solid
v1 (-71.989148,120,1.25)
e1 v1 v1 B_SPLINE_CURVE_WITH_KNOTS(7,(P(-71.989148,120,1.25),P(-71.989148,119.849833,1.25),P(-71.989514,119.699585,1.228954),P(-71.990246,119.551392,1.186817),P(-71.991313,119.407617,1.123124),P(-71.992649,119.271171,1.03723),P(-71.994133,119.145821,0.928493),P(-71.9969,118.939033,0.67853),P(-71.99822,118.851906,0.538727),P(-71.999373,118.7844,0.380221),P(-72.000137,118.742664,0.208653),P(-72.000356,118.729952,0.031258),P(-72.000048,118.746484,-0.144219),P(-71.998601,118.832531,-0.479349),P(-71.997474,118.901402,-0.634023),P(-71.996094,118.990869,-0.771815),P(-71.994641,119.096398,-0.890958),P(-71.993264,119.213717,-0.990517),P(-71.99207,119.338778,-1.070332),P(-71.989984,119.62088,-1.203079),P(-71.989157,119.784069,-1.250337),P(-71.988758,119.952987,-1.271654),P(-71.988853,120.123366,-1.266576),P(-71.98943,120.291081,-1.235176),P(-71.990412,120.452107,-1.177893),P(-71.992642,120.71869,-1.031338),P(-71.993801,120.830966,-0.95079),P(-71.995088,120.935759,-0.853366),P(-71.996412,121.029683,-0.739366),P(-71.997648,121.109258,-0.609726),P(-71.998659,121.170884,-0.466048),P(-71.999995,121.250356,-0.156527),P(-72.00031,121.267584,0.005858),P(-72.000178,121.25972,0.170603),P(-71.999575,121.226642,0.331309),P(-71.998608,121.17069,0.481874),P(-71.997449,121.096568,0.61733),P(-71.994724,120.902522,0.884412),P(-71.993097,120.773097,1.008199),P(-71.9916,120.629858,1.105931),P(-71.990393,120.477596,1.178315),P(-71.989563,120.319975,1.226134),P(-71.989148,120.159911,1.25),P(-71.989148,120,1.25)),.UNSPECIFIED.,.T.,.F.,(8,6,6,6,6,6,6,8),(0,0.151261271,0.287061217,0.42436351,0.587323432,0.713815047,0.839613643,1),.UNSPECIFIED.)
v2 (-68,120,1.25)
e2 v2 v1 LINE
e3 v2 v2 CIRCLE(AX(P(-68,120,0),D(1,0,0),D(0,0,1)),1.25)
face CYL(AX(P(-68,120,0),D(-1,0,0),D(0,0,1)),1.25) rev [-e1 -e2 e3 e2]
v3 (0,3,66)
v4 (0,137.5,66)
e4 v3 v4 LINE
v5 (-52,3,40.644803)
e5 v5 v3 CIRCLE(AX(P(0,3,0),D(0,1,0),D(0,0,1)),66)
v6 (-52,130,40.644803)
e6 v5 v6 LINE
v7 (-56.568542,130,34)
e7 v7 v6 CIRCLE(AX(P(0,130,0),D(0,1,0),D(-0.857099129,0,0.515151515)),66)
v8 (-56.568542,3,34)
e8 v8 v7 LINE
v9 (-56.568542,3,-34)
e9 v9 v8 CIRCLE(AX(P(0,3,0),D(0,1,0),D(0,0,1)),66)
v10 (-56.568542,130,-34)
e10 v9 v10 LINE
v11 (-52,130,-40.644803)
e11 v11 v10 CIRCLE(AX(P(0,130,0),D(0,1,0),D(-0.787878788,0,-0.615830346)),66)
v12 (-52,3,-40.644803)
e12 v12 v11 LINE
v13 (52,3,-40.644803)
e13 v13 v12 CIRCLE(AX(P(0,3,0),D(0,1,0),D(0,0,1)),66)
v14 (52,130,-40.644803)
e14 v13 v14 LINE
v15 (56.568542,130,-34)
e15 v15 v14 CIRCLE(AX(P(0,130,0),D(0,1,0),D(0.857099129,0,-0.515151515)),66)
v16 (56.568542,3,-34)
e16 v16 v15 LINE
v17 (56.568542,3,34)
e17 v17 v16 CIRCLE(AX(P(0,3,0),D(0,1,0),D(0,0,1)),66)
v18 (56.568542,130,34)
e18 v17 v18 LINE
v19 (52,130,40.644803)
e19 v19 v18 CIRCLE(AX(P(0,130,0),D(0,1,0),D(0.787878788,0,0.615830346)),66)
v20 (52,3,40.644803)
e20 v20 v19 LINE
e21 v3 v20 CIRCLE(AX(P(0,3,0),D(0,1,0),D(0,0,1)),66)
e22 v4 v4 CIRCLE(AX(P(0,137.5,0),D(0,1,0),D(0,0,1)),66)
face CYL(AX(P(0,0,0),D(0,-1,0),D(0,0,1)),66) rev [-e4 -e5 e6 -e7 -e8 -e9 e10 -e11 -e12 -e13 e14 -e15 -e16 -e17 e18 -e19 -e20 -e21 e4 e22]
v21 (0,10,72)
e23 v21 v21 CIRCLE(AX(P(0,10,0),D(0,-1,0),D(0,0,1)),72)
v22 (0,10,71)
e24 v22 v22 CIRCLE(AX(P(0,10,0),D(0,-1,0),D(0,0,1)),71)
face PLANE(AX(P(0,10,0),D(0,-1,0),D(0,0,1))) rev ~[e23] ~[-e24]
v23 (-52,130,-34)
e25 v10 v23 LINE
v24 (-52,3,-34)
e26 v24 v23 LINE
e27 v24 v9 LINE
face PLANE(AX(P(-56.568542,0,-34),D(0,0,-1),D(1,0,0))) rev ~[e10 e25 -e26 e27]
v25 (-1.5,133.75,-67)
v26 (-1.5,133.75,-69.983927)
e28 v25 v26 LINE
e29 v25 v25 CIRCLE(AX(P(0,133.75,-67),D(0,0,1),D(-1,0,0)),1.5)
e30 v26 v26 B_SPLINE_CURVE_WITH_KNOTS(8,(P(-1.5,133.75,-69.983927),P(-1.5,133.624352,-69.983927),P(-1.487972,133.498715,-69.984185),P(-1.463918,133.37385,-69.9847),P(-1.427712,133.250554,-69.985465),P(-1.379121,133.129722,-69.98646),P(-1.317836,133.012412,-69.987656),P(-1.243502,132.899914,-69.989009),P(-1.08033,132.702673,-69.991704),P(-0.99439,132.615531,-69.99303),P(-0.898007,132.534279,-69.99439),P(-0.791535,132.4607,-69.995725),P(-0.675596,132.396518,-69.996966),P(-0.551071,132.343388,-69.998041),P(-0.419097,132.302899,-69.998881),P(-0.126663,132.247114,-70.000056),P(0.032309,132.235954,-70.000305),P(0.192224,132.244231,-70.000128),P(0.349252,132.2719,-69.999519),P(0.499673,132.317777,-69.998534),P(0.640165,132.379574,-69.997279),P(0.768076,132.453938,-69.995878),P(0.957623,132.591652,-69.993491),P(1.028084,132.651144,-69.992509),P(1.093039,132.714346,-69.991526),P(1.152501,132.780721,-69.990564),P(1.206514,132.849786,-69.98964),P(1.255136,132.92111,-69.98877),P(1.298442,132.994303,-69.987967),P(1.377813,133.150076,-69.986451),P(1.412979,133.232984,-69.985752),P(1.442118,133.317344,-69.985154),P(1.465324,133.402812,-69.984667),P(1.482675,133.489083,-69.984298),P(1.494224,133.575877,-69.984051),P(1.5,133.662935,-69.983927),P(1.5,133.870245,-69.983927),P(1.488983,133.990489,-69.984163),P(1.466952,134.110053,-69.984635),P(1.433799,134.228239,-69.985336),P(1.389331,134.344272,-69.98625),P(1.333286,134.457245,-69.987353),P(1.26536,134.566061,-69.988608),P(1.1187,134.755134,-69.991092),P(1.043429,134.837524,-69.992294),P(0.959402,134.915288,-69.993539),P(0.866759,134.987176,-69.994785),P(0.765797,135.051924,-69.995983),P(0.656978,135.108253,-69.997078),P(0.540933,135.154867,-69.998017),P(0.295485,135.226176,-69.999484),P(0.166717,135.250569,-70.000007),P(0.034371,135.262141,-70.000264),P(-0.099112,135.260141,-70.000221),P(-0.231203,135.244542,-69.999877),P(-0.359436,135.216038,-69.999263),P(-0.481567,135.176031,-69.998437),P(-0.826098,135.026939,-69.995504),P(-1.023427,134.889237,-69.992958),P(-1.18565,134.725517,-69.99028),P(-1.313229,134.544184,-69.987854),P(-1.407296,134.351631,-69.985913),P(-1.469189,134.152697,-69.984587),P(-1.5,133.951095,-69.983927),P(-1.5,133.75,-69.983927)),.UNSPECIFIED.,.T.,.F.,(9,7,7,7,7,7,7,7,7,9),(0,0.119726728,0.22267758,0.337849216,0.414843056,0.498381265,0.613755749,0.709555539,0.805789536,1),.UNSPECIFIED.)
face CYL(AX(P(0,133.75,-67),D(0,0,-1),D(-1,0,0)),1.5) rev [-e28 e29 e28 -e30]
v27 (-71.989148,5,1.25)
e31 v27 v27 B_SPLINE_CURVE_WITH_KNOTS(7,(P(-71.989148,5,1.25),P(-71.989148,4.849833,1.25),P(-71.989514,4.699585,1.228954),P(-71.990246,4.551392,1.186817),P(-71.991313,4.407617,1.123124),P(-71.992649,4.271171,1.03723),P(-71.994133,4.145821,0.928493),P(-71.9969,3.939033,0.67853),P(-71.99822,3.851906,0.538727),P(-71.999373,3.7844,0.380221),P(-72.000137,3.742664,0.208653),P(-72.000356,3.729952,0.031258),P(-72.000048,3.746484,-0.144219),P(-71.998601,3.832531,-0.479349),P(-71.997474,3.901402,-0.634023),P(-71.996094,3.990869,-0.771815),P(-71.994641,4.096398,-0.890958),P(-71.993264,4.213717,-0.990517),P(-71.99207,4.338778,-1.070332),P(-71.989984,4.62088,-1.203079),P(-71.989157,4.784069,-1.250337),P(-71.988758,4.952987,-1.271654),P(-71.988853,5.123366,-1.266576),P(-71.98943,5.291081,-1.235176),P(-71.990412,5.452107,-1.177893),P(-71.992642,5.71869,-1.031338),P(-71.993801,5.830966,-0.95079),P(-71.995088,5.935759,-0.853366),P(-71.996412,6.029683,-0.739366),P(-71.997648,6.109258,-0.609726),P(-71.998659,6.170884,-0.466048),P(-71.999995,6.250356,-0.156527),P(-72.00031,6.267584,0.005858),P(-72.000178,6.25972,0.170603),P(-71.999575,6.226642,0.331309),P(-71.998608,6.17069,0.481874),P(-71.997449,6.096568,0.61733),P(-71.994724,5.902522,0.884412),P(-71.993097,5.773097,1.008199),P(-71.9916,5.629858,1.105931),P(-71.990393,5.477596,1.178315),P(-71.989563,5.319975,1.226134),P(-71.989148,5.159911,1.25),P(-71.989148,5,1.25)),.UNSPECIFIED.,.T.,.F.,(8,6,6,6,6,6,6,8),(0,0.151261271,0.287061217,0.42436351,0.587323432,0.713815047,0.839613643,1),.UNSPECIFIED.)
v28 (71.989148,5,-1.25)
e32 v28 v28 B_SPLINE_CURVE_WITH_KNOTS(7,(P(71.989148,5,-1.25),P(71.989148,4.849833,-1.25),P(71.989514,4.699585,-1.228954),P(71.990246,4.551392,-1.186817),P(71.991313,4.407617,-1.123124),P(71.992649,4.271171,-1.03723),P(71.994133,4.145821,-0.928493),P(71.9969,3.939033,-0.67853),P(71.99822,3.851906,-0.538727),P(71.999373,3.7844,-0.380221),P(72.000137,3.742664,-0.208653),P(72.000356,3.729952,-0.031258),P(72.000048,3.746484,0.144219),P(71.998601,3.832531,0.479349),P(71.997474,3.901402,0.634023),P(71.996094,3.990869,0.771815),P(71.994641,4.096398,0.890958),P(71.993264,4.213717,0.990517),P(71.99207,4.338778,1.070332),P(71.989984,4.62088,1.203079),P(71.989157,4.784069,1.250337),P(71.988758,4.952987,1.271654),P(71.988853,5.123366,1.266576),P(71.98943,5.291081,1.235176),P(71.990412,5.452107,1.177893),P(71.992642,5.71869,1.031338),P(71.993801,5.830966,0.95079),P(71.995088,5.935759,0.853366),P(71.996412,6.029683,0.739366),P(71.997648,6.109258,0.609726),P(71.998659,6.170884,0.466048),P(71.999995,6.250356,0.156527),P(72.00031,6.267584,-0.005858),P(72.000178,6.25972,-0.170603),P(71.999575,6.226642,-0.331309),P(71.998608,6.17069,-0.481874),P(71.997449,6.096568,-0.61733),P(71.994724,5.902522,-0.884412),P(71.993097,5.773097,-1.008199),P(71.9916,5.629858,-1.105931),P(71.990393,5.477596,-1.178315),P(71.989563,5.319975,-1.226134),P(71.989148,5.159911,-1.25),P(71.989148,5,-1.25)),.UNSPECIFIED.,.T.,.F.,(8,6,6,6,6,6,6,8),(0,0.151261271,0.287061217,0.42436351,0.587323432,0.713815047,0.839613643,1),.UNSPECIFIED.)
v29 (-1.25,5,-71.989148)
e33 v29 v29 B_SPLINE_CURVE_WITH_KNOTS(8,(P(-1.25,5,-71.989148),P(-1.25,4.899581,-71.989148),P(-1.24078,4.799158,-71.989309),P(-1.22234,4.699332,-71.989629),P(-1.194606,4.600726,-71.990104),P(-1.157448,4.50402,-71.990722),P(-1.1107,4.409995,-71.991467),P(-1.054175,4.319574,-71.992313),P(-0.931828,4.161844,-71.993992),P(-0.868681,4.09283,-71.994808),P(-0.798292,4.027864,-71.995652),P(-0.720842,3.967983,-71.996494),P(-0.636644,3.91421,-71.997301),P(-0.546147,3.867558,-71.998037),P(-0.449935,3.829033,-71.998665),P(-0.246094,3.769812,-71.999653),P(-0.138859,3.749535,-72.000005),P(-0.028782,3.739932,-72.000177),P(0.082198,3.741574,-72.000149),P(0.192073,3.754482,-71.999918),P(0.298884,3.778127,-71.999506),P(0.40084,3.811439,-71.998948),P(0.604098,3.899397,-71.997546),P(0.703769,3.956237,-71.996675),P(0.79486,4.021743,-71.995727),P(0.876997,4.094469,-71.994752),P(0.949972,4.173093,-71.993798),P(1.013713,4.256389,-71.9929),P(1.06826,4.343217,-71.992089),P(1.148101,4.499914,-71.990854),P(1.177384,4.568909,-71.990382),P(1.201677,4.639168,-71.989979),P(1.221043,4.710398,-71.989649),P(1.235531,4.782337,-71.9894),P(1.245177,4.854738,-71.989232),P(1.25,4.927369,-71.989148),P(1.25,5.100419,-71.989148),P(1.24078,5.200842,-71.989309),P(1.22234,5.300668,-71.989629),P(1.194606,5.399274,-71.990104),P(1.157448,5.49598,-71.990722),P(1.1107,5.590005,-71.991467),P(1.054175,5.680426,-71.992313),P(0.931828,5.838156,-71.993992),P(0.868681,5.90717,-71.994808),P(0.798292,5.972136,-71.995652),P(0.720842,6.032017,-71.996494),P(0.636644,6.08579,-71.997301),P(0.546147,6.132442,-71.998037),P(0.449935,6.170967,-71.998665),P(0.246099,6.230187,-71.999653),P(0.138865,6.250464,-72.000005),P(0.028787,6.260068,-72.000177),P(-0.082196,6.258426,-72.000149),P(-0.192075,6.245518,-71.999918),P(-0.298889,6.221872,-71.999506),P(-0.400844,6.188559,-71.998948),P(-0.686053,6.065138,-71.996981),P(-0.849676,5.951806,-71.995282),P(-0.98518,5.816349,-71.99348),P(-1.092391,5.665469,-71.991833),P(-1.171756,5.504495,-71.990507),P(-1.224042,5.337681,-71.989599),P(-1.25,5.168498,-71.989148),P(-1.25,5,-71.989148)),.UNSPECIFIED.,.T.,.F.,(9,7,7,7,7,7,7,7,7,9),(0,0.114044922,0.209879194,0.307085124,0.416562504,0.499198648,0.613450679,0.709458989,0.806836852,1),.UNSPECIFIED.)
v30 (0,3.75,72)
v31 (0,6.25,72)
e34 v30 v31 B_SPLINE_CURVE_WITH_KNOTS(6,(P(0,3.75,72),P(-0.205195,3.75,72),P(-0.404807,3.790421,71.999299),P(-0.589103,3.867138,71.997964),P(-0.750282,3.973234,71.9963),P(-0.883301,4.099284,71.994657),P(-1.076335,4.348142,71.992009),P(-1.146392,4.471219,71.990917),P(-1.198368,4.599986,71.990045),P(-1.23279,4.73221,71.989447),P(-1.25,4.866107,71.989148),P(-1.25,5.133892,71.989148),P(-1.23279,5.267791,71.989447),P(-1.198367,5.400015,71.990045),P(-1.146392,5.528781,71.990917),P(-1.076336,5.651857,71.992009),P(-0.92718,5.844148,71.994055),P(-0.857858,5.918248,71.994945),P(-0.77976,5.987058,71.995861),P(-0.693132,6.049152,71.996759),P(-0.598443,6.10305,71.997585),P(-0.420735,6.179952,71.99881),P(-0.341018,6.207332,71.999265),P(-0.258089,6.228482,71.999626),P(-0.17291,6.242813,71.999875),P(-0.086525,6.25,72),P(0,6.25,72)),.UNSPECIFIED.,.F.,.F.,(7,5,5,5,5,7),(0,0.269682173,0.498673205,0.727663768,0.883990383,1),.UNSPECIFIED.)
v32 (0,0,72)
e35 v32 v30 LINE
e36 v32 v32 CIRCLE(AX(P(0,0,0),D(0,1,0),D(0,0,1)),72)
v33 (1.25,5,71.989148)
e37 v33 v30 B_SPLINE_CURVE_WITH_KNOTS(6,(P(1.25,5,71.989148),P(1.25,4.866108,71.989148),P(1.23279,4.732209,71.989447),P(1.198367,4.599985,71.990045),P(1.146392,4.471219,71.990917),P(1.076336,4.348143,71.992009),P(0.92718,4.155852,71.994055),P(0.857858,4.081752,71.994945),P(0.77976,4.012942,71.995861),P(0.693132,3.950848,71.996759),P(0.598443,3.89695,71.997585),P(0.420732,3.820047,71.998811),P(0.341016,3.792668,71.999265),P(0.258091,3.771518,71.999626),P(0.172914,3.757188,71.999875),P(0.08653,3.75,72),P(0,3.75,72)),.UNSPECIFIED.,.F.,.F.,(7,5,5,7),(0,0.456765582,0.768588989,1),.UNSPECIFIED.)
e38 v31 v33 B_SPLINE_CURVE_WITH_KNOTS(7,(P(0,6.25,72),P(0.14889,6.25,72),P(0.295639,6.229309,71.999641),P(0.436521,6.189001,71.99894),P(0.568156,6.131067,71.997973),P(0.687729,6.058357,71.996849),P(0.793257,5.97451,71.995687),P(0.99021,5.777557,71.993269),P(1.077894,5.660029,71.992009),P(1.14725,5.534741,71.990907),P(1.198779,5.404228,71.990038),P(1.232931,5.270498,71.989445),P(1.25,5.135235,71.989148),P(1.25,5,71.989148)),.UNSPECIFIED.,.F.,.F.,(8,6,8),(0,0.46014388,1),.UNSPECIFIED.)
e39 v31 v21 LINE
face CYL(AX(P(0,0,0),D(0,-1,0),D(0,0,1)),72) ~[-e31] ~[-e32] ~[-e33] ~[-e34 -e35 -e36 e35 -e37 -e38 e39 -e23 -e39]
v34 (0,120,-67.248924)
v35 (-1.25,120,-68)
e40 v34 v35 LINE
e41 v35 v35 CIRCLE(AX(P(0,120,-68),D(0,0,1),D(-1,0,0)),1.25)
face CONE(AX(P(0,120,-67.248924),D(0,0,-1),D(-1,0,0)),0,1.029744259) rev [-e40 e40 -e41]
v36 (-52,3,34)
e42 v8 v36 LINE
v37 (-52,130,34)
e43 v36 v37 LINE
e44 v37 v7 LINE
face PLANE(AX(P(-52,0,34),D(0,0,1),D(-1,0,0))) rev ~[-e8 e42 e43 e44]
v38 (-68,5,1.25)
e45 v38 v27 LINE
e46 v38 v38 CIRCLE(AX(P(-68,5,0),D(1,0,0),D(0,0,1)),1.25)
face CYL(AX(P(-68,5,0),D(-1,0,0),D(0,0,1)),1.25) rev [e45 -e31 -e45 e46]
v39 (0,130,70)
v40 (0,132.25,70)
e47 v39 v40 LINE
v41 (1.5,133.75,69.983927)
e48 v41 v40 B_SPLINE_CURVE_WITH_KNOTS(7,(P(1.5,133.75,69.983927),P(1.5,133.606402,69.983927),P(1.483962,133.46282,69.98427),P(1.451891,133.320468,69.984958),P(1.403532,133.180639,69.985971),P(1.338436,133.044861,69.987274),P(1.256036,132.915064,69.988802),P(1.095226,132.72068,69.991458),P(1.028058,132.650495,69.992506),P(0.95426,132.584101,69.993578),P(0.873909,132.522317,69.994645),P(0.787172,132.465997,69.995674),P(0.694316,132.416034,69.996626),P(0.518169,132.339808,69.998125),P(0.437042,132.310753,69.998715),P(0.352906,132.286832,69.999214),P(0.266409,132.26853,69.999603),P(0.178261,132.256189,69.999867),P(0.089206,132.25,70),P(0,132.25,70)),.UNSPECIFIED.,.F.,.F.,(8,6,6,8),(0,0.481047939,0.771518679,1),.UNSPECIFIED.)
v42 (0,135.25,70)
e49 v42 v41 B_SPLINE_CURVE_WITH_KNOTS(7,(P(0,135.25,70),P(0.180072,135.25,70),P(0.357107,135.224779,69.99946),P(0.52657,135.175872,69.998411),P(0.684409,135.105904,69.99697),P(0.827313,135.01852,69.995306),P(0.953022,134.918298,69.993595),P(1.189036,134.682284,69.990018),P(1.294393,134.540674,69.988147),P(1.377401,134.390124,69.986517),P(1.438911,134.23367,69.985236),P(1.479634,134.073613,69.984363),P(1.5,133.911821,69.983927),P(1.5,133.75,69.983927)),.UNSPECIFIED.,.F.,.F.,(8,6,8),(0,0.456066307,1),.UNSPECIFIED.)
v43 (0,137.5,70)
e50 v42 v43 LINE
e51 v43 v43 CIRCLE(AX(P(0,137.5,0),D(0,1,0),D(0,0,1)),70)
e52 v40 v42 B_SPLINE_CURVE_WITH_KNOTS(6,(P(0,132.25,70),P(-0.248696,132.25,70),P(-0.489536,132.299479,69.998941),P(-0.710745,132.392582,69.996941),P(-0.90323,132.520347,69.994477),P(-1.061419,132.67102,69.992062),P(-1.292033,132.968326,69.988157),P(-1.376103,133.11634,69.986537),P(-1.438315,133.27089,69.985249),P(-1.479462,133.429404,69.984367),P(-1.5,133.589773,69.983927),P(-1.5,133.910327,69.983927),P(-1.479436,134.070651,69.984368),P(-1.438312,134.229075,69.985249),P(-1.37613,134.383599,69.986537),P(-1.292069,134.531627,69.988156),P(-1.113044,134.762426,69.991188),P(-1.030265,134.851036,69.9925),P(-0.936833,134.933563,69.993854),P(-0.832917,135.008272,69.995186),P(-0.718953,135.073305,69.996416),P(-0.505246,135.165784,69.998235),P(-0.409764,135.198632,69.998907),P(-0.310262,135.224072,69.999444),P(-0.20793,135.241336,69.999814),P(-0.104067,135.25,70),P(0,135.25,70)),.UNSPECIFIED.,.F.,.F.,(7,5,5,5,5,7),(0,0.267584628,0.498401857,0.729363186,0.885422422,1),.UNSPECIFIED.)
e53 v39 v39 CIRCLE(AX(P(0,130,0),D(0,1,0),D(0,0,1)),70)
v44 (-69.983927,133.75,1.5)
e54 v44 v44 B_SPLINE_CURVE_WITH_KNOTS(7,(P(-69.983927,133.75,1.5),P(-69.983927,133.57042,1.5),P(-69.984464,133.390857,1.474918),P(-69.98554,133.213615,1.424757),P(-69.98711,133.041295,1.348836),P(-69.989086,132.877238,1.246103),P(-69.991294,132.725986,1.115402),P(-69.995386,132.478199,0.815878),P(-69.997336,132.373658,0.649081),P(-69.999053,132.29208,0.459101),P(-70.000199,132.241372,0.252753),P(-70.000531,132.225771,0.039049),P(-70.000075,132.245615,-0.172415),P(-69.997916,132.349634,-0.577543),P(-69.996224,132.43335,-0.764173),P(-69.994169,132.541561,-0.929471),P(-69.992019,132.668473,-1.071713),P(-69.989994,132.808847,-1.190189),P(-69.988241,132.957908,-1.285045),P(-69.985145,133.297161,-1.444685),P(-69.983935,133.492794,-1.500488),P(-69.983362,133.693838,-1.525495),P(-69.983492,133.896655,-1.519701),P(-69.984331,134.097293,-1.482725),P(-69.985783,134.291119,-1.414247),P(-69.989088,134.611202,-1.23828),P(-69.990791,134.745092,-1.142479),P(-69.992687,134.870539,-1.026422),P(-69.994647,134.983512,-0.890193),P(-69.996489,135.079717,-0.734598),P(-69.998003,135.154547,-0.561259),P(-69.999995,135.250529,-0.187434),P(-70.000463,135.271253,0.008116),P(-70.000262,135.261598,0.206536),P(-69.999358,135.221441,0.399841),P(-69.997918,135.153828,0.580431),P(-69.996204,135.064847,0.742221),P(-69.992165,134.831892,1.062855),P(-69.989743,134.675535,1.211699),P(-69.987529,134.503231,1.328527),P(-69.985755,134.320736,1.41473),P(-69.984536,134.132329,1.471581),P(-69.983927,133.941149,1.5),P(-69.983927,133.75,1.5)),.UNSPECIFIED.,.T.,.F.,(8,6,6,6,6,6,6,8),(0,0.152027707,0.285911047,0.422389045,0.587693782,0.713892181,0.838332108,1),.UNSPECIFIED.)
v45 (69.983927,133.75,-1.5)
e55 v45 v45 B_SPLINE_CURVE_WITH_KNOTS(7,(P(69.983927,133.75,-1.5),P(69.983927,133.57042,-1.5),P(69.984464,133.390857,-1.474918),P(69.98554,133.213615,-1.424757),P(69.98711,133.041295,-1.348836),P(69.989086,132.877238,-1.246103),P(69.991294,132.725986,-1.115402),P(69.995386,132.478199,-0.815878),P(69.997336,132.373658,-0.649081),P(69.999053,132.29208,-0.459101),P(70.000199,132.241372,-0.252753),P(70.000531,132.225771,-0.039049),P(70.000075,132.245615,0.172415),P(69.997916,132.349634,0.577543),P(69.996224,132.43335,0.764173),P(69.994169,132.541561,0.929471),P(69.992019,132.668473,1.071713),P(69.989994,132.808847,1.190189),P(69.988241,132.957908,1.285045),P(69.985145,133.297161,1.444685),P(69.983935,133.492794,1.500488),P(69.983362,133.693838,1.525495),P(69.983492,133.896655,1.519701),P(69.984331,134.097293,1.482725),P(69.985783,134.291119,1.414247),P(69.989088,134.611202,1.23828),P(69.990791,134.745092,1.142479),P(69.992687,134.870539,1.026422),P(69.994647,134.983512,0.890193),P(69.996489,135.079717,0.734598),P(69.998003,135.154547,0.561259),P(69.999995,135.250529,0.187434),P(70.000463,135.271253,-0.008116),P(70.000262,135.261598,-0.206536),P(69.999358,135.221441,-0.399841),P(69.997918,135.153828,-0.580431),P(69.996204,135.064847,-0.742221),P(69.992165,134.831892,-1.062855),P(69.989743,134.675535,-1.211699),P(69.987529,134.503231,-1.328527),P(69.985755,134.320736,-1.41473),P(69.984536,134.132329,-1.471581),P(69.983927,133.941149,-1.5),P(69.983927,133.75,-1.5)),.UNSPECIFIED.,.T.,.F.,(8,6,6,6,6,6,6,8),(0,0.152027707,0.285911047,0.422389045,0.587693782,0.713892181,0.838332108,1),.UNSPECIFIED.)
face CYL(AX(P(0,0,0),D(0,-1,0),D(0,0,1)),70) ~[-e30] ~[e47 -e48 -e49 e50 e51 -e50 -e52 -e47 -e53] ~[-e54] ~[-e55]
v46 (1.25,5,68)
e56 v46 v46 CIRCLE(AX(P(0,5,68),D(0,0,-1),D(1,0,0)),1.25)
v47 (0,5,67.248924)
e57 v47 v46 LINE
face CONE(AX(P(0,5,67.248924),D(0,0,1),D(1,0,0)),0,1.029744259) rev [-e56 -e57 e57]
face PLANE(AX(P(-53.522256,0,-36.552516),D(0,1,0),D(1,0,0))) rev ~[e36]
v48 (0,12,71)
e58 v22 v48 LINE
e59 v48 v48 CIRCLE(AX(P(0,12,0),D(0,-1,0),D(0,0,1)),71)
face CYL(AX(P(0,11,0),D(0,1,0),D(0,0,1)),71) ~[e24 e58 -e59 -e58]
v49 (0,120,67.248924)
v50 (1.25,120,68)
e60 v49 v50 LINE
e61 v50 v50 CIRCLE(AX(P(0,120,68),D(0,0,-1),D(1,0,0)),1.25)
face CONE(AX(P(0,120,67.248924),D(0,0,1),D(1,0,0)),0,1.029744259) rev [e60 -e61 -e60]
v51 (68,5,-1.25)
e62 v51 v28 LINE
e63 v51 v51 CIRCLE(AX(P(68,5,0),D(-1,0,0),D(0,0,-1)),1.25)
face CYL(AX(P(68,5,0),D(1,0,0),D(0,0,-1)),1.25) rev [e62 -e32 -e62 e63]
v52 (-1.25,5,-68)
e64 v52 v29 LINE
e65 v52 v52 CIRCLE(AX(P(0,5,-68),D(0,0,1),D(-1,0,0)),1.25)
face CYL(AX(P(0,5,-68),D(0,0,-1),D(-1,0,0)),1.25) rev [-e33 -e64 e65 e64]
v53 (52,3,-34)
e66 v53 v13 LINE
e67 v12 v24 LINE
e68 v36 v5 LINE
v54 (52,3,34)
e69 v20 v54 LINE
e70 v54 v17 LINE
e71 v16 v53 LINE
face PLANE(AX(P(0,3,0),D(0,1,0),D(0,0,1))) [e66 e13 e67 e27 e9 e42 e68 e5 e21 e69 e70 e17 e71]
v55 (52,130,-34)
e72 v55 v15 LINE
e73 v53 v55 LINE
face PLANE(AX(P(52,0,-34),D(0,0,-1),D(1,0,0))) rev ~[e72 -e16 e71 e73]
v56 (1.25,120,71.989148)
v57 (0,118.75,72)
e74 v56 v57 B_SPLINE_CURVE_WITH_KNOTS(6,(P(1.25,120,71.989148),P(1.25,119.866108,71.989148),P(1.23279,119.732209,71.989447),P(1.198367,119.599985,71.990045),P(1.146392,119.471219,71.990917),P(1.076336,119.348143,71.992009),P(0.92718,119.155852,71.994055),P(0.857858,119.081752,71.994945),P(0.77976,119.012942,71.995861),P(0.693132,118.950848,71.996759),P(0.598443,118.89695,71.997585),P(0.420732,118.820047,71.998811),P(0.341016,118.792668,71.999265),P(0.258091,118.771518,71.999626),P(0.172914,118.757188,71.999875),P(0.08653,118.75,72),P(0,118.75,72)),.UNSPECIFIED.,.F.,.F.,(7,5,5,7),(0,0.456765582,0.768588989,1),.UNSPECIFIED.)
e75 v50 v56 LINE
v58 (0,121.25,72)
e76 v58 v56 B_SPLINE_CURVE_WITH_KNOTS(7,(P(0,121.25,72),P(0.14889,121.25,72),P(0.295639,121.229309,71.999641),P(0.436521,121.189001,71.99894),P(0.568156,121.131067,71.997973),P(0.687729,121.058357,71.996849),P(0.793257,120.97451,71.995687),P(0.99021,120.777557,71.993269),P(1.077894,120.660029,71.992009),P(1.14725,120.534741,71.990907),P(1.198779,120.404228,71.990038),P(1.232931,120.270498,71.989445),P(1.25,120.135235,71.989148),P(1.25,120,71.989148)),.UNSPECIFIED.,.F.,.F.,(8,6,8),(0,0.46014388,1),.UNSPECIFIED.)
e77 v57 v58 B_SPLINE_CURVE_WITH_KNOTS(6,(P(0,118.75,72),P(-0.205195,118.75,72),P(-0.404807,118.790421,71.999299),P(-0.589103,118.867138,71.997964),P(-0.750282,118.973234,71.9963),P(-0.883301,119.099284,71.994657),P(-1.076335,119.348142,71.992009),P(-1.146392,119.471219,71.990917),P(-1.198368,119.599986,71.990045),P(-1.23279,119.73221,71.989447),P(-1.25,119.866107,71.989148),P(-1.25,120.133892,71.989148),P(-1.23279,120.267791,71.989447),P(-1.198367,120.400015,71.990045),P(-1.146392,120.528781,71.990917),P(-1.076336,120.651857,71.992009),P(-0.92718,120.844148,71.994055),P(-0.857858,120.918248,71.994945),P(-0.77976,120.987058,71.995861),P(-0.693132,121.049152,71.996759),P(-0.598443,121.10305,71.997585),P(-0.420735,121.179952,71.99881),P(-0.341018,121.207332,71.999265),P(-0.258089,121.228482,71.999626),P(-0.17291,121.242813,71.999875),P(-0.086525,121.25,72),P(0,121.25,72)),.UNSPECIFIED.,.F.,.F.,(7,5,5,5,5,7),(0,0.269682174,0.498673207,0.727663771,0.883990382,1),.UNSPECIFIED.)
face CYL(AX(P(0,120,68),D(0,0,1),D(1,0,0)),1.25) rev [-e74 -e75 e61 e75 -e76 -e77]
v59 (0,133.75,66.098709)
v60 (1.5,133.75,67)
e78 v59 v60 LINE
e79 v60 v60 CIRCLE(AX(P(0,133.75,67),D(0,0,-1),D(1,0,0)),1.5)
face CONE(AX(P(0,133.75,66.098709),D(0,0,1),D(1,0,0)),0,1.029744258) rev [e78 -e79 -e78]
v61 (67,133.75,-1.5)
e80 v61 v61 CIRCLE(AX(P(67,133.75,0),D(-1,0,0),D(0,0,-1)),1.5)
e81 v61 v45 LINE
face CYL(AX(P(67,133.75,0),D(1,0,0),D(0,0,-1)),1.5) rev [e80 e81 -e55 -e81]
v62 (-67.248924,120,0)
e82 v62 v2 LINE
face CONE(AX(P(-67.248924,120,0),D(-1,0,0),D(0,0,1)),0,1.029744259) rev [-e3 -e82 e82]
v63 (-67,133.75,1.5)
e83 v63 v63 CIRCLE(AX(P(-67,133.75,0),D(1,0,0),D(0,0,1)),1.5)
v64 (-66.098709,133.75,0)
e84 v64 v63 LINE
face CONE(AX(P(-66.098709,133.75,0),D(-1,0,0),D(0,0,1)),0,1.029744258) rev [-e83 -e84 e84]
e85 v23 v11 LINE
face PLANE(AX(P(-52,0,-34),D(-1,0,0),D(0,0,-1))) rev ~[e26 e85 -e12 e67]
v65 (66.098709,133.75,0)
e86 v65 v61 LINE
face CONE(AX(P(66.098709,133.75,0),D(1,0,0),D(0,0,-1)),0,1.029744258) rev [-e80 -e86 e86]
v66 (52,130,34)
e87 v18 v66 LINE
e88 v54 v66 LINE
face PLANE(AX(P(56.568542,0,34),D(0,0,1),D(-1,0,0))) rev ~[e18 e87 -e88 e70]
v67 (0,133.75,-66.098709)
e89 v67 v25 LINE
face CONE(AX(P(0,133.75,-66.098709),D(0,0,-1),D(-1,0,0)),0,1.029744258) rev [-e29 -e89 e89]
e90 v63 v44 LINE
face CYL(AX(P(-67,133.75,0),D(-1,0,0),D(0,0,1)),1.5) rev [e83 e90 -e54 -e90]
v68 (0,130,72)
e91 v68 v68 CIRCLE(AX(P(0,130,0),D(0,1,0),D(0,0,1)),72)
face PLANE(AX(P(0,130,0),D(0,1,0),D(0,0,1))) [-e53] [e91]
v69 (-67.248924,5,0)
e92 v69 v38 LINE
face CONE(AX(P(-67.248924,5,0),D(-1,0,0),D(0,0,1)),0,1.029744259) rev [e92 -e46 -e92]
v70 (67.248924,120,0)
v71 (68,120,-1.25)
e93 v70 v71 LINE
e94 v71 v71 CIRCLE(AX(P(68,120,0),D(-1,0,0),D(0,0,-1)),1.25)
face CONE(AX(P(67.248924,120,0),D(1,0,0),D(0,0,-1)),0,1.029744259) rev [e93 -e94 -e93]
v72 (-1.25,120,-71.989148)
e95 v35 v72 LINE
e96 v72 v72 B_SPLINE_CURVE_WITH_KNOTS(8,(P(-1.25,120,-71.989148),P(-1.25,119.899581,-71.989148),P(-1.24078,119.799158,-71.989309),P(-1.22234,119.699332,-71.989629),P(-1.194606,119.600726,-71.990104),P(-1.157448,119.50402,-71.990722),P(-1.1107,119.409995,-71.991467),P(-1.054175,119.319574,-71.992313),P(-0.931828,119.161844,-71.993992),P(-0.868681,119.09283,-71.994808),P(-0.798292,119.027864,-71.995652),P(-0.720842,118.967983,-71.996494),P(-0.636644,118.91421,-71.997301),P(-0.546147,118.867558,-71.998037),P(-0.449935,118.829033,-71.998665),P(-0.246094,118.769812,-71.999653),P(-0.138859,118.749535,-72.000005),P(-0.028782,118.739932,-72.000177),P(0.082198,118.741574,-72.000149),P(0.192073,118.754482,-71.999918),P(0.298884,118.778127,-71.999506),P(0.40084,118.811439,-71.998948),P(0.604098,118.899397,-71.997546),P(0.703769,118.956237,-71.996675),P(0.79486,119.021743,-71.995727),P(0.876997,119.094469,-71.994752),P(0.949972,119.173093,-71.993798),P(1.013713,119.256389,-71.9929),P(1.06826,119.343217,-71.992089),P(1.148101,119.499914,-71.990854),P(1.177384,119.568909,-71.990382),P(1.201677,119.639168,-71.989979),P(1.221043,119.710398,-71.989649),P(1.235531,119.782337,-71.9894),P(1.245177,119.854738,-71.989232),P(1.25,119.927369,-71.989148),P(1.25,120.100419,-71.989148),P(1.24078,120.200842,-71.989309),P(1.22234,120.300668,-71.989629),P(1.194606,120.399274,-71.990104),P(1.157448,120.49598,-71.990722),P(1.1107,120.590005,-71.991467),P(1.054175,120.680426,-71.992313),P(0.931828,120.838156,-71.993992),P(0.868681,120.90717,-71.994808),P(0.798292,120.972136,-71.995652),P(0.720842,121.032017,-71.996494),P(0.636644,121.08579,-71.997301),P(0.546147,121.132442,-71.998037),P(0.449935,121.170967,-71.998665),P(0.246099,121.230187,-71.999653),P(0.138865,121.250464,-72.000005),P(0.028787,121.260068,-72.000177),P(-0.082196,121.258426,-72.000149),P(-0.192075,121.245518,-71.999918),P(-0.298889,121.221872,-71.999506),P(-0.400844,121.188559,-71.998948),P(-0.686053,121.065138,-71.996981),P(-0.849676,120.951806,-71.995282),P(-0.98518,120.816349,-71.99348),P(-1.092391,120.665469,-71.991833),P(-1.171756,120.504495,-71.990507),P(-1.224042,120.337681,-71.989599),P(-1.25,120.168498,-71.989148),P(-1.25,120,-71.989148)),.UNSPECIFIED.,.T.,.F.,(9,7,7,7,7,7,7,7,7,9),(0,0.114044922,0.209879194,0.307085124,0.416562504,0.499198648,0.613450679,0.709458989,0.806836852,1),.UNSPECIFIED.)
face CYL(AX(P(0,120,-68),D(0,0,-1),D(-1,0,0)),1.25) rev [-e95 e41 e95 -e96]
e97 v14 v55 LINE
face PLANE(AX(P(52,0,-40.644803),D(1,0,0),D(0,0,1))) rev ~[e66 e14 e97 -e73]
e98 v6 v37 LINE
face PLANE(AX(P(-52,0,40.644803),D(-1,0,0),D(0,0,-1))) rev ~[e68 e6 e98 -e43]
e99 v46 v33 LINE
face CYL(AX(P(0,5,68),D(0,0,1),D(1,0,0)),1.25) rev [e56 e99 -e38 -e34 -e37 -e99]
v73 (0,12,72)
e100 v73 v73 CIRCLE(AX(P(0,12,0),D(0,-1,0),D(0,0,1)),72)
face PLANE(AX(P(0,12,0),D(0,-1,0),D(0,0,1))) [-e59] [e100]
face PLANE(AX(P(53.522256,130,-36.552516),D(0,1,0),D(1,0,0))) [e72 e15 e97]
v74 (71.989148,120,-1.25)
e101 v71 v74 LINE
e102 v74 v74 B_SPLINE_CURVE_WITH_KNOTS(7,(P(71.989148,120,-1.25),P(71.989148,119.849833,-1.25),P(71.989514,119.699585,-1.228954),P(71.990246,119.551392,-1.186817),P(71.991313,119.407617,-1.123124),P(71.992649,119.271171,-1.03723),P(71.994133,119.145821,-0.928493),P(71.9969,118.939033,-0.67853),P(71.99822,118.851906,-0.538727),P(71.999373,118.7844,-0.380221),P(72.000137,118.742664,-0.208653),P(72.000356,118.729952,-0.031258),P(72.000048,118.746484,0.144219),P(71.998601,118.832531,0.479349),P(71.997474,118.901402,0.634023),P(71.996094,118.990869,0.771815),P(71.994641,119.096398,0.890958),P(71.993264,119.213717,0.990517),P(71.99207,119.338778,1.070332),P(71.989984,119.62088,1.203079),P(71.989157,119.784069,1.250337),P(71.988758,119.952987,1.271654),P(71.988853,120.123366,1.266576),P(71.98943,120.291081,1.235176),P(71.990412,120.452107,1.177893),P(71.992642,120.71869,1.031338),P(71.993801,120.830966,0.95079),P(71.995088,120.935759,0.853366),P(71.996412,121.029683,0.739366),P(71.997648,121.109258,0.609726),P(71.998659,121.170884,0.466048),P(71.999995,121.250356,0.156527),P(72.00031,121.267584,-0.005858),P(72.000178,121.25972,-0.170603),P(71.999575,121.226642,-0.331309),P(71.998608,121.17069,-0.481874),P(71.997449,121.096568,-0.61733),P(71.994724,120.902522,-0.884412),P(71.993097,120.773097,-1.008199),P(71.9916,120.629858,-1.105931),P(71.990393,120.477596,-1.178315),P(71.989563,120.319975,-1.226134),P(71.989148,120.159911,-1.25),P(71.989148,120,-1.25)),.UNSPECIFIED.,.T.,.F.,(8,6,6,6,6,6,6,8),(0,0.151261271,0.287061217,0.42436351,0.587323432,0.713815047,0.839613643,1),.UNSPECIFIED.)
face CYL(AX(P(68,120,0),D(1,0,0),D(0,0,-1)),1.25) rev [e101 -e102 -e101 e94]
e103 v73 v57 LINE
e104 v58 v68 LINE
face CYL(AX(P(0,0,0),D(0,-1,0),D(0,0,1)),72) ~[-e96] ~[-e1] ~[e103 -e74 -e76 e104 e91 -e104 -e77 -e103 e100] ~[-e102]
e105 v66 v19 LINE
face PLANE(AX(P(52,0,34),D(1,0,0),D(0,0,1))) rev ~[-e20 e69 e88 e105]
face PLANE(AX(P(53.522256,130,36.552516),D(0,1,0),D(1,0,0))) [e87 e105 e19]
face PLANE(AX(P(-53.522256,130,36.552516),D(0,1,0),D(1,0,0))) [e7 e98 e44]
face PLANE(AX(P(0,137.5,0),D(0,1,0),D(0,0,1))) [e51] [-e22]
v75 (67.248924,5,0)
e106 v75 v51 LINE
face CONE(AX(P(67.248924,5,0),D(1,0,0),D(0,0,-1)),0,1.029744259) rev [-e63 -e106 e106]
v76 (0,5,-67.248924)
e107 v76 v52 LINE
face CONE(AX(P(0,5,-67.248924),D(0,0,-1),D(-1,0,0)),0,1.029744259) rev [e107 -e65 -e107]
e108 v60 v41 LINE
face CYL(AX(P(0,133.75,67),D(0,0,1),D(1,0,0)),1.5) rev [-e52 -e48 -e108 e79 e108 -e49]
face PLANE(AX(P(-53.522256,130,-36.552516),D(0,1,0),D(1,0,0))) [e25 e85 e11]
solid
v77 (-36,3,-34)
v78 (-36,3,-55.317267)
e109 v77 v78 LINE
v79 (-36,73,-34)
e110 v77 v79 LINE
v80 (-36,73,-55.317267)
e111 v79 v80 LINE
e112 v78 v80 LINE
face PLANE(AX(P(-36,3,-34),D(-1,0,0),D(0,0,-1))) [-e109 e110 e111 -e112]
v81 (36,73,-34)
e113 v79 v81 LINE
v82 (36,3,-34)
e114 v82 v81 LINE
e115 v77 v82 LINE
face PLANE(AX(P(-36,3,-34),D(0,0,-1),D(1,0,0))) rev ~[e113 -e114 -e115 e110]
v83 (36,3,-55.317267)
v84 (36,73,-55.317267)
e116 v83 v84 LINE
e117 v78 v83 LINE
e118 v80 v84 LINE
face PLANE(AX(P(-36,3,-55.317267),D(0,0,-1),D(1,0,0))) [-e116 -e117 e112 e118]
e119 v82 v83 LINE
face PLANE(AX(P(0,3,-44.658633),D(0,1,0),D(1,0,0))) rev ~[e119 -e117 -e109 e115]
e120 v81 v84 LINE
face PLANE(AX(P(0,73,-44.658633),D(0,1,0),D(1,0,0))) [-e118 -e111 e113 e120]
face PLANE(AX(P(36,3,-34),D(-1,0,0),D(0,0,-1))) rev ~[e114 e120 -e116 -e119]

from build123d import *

# Parameters (mm, degrees)
SKETCH_6_R               = 72
SKETCH_6_R_2             = 70
EXTRUDE_1_DEPTH          = 130
SKETCH_6_15_R            = 70
SKETCH_6_15_R_2          = 66
EXTRUDE_2_DEPTH          = 137.5
SKETCH_6_16_R            = 66
EXTRUDE_3_DEPTH          = 3
EXTRUDE_6_DEPTH          = 130
PATTERN_CIRCULAR_1_COUNT = 4
SKETCH_33_W              = 1
SKETCH_33_H              = 2
PATTERN_CIRCULAR_2_COUNT = 4
SKETCH_40_W              = 72
SKETCH_40_H              = 21.317266744
EXTRUDE_8_DEPTH          = 70


with BuildPart() as part:
    # 草圖6 → 填料-伸長1 (new body)
    with BuildSketch(Plane(origin=(0, 0, 0), x_dir=(1, 0, 0), z_dir=(0, 1, 0))):
        with Locations(Location((0, 0, 0), (0, 0, 270))):
            Circle(SKETCH_6_R)
        with Locations(Location((0, 0, 0), (0, 0, 270))):
            Circle(SKETCH_6_R_2, mode=Mode.SUBTRACT)
    extrude(amount=EXTRUDE_1_DEPTH)

    # 草圖6<15> → 填料-伸長2 (add)
    with BuildSketch(Plane(origin=(0, 0, 0), x_dir=(1, 0, 0), z_dir=(0, 1, 0))):
        with Locations(Location((0, 0, 0), (0, 0, 270))):
            Circle(SKETCH_6_15_R)
        with Locations(Location((0, 0, 0), (0, 0, 270))):
            Circle(SKETCH_6_15_R_2, mode=Mode.SUBTRACT)
    extrude(amount=EXTRUDE_2_DEPTH)

    # 草圖6<16> → 填料-伸長3 (add)
    with BuildSketch(Plane(origin=(0, 0, 0), x_dir=(1, 0, 0), z_dir=(0, 1, 0))):
        with Locations(Location((0, 0, 0), (0, 0, 270))):
            Circle(SKETCH_6_16_R)
    extrude(amount=EXTRUDE_3_DEPTH)

    # 草圖9 → 填料-伸長6 (add)
    with BuildSketch(Plane(origin=(0, 0, 0), x_dir=(1, 0, 0), z_dir=(0, 1, 0))):
        with BuildLine():
            Line((-52, 34), (-52, 40.644802866))
            ThreePointArc((-52, 40.644802866), (-54.38584794, 37.392239086), (-56.568542495, 34))
            Line((-56.568542495, 34), (-52, 34))
        make_face()
        with BuildLine():
            Line((-52, -34), (-56.568542495, -34))
            ThreePointArc((-56.568542495, -34), (-54.38584794, -37.392239086), (-52, -40.644802866))
            Line((-52, -40.644802866), (-52, -34))
        make_face()
        with BuildLine():
            Line((56.568542495, -34), (52, -34))
            Line((52, -34), (52, -40.644802866))
            ThreePointArc((52, -40.644802866), (54.38584794, -37.392239086), (56.568542495, -34))
        make_face()
        with BuildLine():
            ThreePointArc((56.568542495, 34), (54.38584794, 37.392239086), (52, 40.644802866))
            Line((52, 40.644802866), (52, 34))
            Line((52, 34), (56.568542495, 34))
        make_face()
    extrude(amount=EXTRUDE_6_DEPTH)

    # 草圖31 → Ø2.5mm 定位孔3 (revolve, cut)
    with BuildSketch(Plane(origin=(70, 133.75, 0), x_dir=(0, 0, -1), z_dir=(0, 1, 0))):
        Polygon((0, 0), (0, 3.901290929), (1.5, 3), (1.5, 0), align=None)
    f_2_5mm_3 = revolve(axis=Axis((76.35, 133.75, 0), (-1, 0, 0)), mode=Mode.SUBTRACT)

    # 環狀複製排列1: Ø2.5mm 定位孔3 ×4 about axis
    pattern_circular_1_axis = Axis((0, 137.5, 0), (0, 1, 0))
    for i in range(1, PATTERN_CIRCULAR_1_COUNT):
        add(f_2_5mm_3.rotate(pattern_circular_1_axis, i * 360 / PATTERN_CIRCULAR_1_COUNT), mode=Mode.SUBTRACT)

    # 草圖33 → 除料-旋轉1 (revolve, cut)
    with BuildSketch(Plane.XY, mode=Mode.PRIVATE) as cut_revolve_1_sk:
        with Locations((-71.5, 11)):
            Rectangle(SKETCH_33_W, SKETCH_33_H)
    revolve(cut_revolve_1_sk.sketch.rotate(Axis((0, 137.5, 0), (0, -1, 0)), 270), axis=Axis((0, 137.5, 0), (0, -1, 0)), mode=Mode.SUBTRACT)

    # 草圖37 → M3x0.5  螺絲攻的螺孔鑽1 (revolve, cut)
    with BuildSketch(Plane(origin=(-72, 5, 0), x_dir=(0, 0, 1), z_dir=(0, 1, 0))):
        Polygon((0, 0), (0, 4.751075774), (1.25, 4), (1.25, 0), align=None)
    m3x0_5_1 = revolve(axis=Axis((-78.35, 5, 0), (1, 0, 0)), mode=Mode.SUBTRACT)

    # 環狀複製排列2: M3x0.5  螺絲攻的螺孔鑽1 ×4 about axis
    pattern_circular_2_axis = Axis((0, 137.5, 0), (0, -1, 0))
    for i in range(1, PATTERN_CIRCULAR_2_COUNT):
        add(m3x0_5_1.rotate(pattern_circular_2_axis, i * 360 / PATTERN_CIRCULAR_2_COUNT), mode=Mode.SUBTRACT)

    # 直線複製排列2 copy 1 sketch → 直線複製排列2 copy 1 (revolve, cut)
    with BuildSketch(Plane(origin=(0, 120, -72), x_dir=(-1, 0, 0), z_dir=(0, 1, 0))):
        Polygon((0, 0), (0, 4.751075774), (1.25, 4), (1.25, 0), align=None)
    revolve(axis=Axis((0, 120, -78.35), (0, 0, 1)), mode=Mode.SUBTRACT)

    # 直線複製排列2 copy 2 sketch → 直線複製排列2 copy 2 (revolve, cut)
    with BuildSketch(Plane(origin=(72, 120, 0), x_dir=(0, 0, -1), z_dir=(0, 1, 0))):
        Polygon((0, 0), (0, 4.751075774), (1.25, 4), (1.25, 0), align=None)
    revolve(axis=Axis((78.35, 120, 0), (-1, 0, 0)), mode=Mode.SUBTRACT)

    # 直線複製排列2 copy 3 sketch → 直線複製排列2 copy 3 (revolve, cut)
    with BuildSketch(Plane(origin=(0, 120, 72), x_dir=(1, 0, 0), z_dir=(0, 1, 0))):
        Polygon((0, 0), (0, 4.751075774), (1.25, 4), (1.25, 0), align=None)
    revolve(axis=Axis((0, 120, 78.35), (0, 0, -1)), mode=Mode.SUBTRACT)

    # 直線複製排列2 copy 4 sketch → 直線複製排列2 copy 4 (revolve, cut)
    with BuildSketch(Plane(origin=(-72, 120, 0), x_dir=(0, 0, 1), z_dir=(0, 1, 0))):
        Polygon((0, 0), (0, 4.751075774), (1.25, 4), (1.25, 0), align=None)
    revolve(axis=Axis((-78.35, 120, 0), (1, 0, 0)), mode=Mode.SUBTRACT)


with BuildPart() as body_2:
    # 草圖40 → 填料-伸長8 (new body)
    with BuildSketch(Plane(origin=(0, 3, 0), x_dir=(1, 0, 0), z_dir=(0, 1, 0))):
        with Locations((0, 44.658633372)):
            Rectangle(SKETCH_40_W, SKETCH_40_H)
    extrude(amount=EXTRUDE_8_DEPTH)


solid = Compound([part.part, body_2.part])
